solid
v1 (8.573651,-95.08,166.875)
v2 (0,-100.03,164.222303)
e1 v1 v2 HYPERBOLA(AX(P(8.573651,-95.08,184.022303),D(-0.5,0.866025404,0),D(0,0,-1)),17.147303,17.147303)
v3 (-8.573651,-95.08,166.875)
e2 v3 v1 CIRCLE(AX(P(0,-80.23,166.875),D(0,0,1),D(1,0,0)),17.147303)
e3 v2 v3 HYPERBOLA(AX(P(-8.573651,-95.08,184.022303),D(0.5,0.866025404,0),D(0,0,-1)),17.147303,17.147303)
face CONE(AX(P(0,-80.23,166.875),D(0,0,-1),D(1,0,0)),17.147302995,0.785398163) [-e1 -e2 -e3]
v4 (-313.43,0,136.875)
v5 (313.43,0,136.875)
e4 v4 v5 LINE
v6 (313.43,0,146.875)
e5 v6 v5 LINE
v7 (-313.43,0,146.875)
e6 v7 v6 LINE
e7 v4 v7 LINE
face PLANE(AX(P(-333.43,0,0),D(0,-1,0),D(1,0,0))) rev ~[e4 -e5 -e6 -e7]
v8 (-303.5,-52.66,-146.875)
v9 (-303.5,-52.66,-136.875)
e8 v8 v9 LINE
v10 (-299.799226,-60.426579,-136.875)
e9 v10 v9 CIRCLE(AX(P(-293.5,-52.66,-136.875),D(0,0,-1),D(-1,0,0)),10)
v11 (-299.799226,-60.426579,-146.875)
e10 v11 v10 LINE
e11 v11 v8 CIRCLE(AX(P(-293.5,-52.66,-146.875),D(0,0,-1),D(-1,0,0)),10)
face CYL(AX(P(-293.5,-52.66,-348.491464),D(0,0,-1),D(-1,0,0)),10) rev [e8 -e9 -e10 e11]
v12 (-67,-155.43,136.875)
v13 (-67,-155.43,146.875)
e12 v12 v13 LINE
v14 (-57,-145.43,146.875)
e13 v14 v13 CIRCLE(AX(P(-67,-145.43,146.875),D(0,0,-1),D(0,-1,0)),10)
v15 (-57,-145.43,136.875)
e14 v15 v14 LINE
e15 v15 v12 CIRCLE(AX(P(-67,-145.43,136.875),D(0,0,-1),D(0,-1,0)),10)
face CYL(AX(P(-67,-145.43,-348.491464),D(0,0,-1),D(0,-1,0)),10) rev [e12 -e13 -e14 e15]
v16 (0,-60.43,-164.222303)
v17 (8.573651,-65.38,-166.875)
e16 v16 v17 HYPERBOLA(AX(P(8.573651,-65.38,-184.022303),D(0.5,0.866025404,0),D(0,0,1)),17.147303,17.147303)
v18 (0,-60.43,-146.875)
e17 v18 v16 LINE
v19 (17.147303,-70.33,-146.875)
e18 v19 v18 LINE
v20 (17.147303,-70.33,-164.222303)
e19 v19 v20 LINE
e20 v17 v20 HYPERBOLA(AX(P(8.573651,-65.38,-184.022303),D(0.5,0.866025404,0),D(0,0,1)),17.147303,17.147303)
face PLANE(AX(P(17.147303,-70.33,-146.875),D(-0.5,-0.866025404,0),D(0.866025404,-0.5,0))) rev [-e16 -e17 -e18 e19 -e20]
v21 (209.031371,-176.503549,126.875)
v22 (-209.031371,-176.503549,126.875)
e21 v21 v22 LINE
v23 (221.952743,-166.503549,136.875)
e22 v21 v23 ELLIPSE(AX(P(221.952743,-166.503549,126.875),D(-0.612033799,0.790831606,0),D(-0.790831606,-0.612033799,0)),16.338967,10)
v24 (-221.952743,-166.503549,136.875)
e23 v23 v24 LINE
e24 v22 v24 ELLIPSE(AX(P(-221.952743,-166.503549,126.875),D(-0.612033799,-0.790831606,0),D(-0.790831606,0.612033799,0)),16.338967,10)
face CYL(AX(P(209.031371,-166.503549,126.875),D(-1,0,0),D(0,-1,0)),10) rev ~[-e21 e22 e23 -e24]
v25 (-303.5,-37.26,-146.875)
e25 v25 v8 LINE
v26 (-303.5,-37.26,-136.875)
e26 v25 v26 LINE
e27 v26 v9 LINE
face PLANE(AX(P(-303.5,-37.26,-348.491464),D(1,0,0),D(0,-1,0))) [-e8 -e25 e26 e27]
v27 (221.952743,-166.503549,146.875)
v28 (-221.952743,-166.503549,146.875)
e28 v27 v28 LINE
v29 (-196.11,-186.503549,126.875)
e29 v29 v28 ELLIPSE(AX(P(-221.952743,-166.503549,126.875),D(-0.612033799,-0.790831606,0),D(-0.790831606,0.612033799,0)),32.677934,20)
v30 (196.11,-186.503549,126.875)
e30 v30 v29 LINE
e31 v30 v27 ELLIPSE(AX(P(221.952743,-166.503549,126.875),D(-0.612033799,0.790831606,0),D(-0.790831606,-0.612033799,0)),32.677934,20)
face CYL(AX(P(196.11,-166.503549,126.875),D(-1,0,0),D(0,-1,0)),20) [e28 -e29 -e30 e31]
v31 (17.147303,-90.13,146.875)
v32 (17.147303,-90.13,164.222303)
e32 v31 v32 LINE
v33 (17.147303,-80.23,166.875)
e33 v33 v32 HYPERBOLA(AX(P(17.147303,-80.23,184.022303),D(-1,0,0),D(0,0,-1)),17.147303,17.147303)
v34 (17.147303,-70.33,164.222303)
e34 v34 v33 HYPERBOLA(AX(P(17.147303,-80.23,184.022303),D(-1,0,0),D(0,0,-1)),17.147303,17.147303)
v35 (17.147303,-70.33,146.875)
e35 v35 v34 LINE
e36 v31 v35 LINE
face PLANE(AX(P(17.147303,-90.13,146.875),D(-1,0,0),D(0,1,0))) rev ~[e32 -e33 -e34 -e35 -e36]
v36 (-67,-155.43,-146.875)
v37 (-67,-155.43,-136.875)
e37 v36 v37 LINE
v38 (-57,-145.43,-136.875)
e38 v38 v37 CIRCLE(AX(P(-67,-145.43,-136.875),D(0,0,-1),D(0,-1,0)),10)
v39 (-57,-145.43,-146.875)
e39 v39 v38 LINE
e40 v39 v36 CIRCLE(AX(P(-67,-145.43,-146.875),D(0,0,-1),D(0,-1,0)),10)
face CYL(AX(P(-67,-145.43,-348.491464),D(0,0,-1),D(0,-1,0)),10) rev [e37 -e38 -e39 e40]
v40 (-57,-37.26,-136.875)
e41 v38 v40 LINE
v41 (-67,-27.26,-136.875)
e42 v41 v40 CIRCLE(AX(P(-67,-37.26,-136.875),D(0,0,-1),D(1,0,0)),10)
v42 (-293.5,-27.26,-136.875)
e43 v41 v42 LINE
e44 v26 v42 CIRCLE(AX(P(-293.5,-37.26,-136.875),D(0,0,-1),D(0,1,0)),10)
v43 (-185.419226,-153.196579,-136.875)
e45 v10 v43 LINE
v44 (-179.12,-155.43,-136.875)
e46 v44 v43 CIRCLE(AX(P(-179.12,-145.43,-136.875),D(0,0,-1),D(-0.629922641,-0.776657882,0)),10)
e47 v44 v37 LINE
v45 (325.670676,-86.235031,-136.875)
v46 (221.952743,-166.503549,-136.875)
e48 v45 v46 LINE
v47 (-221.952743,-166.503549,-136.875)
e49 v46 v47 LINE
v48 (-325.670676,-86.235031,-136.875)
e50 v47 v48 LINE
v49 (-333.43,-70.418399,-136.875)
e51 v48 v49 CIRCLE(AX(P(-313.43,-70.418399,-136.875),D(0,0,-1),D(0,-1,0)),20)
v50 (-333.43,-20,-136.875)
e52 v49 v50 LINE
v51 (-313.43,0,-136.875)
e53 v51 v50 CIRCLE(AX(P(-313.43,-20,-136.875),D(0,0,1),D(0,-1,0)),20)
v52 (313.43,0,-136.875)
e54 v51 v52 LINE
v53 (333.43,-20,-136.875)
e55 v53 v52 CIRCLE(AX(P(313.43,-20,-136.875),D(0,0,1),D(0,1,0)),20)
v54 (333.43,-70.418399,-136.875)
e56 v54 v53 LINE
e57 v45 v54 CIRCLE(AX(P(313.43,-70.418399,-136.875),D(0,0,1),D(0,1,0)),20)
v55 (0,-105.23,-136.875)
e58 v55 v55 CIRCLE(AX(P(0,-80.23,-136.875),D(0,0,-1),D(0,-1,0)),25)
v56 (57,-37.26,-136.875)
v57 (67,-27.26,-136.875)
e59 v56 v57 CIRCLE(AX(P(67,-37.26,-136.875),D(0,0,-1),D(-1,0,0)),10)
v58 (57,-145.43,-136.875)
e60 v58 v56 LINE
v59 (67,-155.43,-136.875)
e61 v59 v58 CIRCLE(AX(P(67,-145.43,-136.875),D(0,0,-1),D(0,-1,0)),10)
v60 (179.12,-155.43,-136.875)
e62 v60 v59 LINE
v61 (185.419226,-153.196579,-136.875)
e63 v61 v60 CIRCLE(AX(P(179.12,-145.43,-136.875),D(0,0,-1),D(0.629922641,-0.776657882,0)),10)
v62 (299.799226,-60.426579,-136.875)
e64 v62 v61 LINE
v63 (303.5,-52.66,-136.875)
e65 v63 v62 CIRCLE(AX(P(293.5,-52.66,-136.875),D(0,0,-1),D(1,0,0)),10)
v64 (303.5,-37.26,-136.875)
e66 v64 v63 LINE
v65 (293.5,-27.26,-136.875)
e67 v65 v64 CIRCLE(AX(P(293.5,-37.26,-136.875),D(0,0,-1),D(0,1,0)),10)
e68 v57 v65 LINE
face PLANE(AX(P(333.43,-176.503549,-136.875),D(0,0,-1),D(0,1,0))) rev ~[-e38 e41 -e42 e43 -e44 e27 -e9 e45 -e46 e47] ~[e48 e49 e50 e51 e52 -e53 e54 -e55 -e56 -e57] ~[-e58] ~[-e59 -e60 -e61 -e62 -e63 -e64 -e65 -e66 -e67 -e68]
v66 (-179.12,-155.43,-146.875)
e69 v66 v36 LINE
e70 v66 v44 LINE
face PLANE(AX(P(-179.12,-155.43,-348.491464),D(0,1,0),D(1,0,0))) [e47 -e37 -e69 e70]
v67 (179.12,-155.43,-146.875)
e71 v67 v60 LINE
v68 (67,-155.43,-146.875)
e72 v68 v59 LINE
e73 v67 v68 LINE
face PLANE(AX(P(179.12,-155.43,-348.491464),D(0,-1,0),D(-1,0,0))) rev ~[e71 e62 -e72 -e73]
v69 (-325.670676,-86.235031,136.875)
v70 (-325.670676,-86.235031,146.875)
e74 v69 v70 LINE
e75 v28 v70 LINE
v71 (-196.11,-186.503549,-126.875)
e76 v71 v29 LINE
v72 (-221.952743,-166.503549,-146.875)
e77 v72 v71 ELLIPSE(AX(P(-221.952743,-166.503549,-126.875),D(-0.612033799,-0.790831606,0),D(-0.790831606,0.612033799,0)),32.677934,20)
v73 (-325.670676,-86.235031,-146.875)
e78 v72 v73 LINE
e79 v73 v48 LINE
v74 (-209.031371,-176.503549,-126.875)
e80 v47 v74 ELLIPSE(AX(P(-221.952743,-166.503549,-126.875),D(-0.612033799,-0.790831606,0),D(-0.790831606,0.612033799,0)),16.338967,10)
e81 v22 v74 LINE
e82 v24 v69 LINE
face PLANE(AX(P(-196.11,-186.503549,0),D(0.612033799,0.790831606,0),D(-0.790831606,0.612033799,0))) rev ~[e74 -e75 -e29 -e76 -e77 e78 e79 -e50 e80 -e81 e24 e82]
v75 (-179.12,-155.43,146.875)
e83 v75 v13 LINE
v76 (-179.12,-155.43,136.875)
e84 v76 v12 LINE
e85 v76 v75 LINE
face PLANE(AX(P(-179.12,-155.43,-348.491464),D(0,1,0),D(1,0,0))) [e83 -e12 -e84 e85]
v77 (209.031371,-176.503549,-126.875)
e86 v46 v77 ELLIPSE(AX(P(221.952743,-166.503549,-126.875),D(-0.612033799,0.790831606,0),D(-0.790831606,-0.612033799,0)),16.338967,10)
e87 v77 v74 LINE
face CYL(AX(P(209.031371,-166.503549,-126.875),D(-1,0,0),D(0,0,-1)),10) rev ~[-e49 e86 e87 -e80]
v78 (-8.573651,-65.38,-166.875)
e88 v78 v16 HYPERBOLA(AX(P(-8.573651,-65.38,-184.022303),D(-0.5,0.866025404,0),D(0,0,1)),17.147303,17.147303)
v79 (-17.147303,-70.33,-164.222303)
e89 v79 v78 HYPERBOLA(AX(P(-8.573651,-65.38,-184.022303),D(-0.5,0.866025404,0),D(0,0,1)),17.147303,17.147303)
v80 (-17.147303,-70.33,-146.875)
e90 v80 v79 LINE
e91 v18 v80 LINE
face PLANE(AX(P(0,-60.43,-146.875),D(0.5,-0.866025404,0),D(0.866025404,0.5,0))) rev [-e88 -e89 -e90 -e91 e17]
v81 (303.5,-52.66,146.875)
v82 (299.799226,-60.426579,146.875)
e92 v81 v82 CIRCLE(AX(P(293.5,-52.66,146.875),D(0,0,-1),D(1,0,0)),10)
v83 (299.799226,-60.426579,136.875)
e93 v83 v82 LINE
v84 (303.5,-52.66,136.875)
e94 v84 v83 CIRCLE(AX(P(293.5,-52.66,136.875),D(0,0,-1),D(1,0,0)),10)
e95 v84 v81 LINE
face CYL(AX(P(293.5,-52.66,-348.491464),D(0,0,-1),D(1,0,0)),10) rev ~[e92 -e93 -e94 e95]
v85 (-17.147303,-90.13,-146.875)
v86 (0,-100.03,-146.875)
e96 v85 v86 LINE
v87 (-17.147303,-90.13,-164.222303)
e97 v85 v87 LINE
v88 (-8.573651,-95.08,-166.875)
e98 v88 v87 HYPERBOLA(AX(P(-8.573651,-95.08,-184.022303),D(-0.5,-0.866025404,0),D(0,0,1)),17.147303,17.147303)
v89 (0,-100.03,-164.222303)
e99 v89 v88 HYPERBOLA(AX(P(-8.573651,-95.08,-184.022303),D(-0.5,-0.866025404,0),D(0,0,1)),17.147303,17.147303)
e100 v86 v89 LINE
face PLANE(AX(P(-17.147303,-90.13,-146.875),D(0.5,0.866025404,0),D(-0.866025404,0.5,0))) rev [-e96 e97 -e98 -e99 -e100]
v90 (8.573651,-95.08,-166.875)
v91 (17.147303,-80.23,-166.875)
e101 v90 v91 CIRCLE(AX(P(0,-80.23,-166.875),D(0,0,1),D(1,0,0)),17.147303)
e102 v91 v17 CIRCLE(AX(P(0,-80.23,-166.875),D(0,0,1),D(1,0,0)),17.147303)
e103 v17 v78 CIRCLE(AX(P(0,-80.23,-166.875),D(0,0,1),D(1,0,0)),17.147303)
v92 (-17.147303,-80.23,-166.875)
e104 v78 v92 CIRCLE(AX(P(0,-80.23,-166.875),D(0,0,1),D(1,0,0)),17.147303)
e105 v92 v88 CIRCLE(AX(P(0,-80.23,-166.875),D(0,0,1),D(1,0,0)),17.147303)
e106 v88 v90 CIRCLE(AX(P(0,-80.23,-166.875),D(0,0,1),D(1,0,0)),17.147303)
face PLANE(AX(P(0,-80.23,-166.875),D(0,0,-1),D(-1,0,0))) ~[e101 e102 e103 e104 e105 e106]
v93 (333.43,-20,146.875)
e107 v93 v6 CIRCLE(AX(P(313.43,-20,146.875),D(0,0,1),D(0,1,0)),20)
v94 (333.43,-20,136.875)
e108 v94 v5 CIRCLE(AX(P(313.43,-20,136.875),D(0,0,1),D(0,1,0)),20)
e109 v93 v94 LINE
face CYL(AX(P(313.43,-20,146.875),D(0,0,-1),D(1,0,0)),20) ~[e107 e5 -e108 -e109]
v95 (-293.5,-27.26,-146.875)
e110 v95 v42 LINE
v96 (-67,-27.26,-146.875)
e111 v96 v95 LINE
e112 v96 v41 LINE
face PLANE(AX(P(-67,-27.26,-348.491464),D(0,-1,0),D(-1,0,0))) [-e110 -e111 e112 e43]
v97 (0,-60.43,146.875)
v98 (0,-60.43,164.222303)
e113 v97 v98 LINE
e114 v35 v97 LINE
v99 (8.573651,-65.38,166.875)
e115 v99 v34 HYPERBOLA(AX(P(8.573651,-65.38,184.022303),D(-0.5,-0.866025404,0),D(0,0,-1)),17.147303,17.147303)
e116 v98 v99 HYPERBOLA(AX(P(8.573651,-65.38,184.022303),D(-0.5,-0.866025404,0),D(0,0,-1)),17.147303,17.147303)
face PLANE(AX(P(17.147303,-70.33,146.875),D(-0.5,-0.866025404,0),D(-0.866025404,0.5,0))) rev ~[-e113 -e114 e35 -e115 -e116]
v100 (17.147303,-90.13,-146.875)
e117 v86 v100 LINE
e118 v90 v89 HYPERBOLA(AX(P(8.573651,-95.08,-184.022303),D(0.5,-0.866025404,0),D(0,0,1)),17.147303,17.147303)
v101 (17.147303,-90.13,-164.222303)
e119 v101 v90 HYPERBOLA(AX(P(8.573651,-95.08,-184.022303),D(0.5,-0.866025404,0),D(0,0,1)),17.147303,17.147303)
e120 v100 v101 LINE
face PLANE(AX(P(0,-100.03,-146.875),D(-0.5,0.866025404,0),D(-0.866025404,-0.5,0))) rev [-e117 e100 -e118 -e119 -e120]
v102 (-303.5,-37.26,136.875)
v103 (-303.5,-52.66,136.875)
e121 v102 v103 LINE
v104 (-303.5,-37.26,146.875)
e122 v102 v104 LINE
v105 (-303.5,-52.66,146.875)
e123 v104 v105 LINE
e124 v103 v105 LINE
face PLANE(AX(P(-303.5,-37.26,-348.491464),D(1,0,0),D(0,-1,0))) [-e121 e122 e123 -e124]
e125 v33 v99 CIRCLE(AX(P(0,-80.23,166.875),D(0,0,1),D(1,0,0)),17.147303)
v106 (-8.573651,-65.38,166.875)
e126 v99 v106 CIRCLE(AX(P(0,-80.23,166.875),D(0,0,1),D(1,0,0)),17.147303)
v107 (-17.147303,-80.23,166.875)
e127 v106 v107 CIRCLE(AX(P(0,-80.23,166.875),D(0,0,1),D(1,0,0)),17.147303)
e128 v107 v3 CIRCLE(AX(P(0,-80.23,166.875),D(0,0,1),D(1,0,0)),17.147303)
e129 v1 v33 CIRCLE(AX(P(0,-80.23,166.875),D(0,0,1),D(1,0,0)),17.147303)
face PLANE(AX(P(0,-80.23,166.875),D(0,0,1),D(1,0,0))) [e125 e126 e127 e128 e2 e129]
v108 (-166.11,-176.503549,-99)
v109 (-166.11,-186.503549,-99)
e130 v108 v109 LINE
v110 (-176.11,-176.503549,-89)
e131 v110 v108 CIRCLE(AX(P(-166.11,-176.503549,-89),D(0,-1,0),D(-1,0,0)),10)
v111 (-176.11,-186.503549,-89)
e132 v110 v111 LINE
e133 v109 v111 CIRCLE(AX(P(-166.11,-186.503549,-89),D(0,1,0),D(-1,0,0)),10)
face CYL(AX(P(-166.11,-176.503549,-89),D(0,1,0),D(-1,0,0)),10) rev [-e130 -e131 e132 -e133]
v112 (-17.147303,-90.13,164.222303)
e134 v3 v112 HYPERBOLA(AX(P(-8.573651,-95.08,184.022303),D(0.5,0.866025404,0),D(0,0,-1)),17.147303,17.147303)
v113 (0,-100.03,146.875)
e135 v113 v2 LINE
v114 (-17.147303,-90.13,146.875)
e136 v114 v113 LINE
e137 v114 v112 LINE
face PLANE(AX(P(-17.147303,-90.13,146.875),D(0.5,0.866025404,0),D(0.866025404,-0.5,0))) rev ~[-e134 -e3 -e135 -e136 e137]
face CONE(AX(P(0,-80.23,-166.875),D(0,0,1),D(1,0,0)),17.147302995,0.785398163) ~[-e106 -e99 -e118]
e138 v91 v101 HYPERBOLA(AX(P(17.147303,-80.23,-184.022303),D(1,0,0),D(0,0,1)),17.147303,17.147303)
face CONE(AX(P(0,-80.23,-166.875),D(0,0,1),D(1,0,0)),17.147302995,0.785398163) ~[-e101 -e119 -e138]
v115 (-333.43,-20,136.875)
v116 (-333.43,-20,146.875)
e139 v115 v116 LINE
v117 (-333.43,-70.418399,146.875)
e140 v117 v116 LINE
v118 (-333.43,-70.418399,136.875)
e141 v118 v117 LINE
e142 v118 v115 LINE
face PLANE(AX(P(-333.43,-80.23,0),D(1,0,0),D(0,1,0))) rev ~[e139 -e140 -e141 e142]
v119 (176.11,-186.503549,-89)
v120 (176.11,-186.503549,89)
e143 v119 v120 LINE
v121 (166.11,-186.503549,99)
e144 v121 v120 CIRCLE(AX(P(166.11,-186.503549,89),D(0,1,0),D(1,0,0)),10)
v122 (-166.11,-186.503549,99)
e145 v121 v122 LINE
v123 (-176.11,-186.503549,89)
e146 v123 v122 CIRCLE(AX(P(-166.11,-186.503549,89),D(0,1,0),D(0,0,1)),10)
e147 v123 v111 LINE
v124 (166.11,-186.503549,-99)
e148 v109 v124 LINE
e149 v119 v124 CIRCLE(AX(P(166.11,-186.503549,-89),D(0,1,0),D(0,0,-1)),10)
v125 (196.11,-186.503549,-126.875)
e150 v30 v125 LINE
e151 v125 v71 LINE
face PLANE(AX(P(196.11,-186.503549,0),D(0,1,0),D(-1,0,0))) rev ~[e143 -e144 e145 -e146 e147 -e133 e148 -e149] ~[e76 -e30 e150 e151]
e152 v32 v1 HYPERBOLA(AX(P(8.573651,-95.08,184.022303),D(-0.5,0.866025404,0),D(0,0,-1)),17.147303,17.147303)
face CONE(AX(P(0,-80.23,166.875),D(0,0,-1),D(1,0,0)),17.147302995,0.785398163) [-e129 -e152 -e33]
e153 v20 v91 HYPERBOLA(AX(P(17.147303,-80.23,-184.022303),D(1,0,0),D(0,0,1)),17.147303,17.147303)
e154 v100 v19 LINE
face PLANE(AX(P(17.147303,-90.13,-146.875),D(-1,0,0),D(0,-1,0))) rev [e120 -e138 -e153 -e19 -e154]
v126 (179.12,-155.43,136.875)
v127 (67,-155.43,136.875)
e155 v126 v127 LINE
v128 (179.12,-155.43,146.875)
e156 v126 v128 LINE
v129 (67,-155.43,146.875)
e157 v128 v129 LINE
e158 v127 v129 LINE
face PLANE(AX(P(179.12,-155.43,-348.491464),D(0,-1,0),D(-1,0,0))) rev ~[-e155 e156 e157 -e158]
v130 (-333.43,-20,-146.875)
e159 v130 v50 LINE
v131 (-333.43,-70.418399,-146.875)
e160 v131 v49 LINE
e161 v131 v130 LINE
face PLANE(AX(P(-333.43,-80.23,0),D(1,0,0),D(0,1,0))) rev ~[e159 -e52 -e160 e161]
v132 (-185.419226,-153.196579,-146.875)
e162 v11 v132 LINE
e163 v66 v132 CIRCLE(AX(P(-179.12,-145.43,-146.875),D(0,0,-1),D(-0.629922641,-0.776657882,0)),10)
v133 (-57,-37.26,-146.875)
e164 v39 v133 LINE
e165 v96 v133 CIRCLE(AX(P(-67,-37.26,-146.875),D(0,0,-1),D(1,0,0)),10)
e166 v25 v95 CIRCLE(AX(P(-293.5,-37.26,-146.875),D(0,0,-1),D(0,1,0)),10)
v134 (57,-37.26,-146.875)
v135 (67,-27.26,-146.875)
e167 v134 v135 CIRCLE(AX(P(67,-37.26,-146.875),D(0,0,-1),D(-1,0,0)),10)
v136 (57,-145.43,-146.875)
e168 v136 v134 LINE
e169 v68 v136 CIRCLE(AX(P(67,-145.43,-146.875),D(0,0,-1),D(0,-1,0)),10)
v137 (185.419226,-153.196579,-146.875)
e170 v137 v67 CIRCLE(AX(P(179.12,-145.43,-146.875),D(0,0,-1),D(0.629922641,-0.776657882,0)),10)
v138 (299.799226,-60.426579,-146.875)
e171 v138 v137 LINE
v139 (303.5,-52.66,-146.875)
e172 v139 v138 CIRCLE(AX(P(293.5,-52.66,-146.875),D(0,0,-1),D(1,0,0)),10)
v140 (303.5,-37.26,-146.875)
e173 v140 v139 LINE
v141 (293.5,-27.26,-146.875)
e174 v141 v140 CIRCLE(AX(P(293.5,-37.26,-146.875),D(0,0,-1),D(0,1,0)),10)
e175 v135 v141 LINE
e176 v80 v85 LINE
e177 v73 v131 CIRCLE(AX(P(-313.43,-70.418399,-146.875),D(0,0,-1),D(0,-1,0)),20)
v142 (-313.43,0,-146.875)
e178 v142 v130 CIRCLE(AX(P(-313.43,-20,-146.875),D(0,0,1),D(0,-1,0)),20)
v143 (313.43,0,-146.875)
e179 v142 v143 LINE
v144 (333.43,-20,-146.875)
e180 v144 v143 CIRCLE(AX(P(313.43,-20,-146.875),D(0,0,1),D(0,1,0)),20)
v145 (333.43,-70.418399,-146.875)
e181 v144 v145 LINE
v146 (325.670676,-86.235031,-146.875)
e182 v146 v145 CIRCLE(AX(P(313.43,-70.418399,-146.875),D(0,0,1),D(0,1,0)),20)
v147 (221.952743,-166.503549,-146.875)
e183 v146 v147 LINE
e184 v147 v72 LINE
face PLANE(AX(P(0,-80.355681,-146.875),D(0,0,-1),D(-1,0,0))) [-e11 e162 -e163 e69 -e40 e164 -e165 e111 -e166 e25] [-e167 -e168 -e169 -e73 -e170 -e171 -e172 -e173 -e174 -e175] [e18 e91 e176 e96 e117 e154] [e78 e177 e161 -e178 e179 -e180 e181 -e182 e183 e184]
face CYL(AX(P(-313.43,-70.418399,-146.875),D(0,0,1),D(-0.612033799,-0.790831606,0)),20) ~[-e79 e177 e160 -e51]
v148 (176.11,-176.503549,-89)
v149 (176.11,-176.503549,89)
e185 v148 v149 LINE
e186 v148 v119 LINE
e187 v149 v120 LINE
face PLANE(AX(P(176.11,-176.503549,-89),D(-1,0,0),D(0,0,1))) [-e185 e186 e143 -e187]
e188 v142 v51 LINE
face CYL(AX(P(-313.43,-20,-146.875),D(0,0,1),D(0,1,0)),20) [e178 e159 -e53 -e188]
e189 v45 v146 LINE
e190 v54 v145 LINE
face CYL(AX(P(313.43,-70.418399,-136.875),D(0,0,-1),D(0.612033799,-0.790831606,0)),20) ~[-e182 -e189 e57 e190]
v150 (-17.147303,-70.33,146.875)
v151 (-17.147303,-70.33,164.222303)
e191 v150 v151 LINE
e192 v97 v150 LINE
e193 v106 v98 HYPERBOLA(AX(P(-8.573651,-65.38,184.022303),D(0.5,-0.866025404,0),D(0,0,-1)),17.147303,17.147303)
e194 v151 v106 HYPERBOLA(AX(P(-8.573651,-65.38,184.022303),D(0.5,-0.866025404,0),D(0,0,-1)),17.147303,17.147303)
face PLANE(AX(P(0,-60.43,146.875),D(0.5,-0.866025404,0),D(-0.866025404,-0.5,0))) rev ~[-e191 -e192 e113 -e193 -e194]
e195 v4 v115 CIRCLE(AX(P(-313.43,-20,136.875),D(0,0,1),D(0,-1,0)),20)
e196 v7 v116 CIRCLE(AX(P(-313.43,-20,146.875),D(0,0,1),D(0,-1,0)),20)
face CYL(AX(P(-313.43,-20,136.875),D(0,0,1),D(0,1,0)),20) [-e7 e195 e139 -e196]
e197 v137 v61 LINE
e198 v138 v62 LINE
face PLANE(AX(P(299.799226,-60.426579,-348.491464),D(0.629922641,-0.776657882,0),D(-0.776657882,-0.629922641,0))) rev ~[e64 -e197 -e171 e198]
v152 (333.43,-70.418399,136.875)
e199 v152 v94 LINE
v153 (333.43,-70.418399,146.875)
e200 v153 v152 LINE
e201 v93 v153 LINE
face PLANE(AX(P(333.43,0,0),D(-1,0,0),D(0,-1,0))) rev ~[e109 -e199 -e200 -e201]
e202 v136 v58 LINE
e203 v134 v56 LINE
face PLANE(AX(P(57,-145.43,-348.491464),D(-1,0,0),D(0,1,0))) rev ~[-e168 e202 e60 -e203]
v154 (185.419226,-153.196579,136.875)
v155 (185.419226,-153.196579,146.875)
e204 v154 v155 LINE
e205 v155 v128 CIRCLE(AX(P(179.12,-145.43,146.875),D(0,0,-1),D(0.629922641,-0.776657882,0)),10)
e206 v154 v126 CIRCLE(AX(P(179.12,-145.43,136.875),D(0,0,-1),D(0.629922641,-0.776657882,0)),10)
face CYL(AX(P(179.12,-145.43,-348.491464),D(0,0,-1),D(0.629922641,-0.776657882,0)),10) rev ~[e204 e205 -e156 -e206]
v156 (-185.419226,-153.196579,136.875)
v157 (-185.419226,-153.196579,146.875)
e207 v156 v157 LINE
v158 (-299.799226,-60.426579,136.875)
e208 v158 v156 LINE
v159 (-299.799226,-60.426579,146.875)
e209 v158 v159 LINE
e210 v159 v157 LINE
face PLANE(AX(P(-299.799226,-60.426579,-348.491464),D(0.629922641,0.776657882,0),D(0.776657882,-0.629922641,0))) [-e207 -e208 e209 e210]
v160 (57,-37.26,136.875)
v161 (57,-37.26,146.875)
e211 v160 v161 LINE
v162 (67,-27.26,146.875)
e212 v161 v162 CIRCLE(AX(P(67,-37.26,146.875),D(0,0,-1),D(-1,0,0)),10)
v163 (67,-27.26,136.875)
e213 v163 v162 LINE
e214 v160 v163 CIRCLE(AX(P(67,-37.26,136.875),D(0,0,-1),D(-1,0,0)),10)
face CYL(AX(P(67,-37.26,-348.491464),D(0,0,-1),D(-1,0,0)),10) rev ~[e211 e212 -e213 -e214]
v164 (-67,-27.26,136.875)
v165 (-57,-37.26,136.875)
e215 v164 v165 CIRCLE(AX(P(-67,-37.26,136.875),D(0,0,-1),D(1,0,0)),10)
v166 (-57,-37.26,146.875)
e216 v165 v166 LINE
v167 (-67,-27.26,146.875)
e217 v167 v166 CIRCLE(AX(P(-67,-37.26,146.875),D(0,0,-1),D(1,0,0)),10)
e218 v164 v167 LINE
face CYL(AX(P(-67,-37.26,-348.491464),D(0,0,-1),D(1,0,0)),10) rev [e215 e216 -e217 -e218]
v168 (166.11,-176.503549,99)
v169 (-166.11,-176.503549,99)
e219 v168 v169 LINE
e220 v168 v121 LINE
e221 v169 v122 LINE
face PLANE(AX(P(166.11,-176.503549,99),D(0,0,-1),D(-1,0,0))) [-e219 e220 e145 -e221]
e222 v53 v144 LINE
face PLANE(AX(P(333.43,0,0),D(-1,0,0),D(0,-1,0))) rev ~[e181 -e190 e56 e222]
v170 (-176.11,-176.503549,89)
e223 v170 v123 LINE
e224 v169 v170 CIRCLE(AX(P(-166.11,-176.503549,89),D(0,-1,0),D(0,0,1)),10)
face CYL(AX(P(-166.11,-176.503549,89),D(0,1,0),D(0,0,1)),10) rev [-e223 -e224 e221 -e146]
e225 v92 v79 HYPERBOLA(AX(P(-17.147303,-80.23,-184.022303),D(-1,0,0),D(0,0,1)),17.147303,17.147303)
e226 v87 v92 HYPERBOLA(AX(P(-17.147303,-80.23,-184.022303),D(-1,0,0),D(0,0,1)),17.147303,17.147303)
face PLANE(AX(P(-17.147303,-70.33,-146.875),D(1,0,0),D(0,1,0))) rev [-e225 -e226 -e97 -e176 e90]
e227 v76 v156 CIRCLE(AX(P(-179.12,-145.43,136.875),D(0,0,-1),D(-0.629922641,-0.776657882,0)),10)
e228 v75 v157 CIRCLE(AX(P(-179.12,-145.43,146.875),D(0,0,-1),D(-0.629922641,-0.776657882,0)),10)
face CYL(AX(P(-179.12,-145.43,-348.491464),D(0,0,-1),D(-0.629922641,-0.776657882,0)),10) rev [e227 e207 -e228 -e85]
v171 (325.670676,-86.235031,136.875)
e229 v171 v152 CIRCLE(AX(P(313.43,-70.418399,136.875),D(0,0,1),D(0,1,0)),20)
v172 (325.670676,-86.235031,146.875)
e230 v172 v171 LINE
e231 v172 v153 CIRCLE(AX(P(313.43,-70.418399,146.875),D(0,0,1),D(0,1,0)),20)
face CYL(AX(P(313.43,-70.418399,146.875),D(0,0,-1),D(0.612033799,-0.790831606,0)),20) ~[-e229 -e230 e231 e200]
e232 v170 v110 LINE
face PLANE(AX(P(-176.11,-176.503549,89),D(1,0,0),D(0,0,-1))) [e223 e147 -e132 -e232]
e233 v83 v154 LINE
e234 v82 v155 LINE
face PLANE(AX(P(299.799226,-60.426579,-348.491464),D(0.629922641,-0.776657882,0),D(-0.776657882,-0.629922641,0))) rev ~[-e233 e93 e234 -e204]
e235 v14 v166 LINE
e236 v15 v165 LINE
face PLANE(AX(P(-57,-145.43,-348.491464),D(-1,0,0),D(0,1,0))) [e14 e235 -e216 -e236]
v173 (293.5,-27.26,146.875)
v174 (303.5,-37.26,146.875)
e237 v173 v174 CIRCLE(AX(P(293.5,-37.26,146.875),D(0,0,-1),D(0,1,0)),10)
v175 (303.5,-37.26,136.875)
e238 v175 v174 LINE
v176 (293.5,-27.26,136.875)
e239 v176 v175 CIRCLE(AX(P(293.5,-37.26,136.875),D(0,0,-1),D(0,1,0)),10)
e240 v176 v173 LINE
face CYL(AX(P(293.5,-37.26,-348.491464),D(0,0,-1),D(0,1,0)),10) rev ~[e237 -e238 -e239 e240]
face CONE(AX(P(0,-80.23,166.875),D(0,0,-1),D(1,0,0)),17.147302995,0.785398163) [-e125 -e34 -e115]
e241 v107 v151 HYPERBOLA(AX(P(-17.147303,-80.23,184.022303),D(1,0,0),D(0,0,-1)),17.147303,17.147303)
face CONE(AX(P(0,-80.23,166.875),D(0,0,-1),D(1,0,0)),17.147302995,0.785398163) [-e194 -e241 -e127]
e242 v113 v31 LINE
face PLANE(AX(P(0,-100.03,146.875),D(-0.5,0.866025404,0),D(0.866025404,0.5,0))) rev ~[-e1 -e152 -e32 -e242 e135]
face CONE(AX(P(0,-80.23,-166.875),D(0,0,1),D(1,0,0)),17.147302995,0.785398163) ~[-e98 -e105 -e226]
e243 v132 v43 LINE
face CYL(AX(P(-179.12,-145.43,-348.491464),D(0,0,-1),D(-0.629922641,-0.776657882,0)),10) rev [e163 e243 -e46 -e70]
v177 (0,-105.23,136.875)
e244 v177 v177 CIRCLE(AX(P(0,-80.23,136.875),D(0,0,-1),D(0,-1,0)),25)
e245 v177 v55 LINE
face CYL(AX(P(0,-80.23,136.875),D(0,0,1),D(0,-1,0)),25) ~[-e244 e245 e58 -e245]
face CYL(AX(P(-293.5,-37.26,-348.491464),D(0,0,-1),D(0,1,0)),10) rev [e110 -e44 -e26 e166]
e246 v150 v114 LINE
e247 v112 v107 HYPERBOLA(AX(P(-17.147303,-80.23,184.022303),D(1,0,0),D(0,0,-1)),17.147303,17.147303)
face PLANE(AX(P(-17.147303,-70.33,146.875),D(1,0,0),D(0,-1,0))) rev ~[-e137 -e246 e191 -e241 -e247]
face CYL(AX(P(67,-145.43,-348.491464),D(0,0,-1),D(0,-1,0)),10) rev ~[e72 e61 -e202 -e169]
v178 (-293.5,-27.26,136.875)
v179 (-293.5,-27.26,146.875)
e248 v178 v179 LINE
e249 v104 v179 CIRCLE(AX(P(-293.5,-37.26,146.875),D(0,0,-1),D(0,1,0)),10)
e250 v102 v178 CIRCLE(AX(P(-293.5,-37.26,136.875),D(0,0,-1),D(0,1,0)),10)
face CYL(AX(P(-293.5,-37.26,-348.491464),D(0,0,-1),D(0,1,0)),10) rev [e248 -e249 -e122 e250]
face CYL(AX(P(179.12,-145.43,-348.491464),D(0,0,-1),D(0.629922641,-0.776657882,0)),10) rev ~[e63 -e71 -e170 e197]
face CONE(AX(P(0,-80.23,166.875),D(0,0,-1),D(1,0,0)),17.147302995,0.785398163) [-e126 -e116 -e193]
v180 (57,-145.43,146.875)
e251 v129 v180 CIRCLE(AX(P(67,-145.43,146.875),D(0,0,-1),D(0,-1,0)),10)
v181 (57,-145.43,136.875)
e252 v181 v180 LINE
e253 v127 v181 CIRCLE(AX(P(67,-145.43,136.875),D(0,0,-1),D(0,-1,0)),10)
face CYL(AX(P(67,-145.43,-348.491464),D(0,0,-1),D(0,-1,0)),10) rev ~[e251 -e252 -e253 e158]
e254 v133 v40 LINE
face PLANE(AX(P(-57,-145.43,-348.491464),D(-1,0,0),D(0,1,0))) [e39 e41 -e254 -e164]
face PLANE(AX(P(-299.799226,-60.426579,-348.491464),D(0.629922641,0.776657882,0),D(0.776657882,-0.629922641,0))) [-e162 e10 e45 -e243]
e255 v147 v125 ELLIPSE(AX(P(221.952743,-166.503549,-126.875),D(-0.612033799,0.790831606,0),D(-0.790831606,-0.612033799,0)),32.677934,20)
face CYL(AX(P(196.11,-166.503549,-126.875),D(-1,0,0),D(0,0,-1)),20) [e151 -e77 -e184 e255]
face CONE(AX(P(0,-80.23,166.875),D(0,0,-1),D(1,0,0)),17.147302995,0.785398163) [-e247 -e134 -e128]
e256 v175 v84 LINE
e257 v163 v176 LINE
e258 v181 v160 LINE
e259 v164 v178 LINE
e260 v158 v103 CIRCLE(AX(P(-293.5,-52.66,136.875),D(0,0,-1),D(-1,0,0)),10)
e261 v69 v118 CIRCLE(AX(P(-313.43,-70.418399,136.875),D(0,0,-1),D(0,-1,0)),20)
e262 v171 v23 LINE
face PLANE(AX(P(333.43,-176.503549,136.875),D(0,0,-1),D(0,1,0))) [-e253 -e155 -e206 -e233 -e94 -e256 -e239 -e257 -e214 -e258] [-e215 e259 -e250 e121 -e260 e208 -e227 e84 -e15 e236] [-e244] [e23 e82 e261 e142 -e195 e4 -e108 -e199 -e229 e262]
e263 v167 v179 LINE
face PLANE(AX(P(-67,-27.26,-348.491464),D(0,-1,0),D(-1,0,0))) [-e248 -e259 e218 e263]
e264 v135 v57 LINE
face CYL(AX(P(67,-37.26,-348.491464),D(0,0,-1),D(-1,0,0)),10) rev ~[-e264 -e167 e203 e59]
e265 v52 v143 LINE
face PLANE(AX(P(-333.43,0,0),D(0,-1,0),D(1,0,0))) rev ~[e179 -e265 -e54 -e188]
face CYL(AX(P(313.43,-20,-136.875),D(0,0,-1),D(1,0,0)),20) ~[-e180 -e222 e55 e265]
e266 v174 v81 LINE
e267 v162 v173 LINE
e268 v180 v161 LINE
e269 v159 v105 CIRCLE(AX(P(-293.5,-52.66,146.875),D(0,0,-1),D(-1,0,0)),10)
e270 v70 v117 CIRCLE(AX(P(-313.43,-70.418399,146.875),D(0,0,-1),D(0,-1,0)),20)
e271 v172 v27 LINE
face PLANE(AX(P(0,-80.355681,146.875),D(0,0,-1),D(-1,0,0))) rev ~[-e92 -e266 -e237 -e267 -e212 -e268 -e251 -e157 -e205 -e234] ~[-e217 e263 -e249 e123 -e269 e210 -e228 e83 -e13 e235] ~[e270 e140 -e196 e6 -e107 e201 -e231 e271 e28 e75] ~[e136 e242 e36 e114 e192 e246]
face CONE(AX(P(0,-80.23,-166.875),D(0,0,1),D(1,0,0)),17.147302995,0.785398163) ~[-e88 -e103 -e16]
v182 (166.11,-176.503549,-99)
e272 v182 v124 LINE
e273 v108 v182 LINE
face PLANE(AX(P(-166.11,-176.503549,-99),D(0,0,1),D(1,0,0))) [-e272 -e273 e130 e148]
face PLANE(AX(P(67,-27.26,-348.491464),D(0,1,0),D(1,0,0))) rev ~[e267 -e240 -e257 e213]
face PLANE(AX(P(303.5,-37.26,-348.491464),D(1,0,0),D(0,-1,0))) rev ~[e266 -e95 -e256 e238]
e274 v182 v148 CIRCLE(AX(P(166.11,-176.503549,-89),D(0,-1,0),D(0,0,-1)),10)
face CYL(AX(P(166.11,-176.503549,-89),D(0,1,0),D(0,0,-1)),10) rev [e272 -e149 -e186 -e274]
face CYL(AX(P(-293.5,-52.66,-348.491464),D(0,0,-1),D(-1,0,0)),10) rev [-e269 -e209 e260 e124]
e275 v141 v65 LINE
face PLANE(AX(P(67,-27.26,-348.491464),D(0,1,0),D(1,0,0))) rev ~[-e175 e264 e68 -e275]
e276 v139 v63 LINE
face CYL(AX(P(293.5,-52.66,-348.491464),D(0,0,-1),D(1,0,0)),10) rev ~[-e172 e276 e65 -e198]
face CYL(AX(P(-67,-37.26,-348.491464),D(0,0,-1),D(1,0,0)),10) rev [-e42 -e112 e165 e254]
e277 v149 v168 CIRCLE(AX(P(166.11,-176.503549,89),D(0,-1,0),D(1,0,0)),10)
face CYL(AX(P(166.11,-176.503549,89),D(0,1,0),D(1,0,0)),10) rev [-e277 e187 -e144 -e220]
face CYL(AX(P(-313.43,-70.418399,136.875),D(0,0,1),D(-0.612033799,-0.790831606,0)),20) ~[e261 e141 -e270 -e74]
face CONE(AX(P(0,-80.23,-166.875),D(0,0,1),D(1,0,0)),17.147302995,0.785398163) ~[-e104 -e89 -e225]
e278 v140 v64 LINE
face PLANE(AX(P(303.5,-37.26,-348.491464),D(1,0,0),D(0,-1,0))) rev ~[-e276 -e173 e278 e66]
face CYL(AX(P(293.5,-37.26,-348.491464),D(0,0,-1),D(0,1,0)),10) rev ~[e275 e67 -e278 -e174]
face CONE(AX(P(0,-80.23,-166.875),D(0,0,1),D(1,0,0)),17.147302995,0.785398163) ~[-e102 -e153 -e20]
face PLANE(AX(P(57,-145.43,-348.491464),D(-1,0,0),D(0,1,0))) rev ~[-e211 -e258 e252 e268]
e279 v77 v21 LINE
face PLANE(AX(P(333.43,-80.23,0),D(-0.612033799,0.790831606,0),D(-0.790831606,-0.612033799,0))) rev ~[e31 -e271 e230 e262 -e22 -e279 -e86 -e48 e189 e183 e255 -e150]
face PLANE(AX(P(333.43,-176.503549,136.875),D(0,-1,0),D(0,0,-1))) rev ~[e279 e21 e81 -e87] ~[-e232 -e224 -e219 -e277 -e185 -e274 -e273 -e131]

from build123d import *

# Parameters (mm, degrees)
BOSS_EXTRUDE1_DEPTH     = 146.875
SKETCH2_W               = 273.75
SKETCH2_H               = 213.261995914
CUT_EXTRUDE1_DEPTH      = 708.854574743
FILLET1_R               = 10
FILLET2_R               = 20
SKETCH3_R               = 25
BOSS_EXTRUDE2_DEPTH     = 273.75
BOSS_EXTRUDE3_DEPTH     = 20
SKETCH5_R               = 51.111383935
SKETCH5_R_2             = 17.147302995
CUT_EXTRUDE2_DEPTH      = 20
CUT_EXTRUDE2_TAPER      = 45
CUT_EXTRUDE3_DEPTH      = 495.366464437
CUT_EXTRUDE3_DEPTH_BACK = 495.366464437
CUT_EXTRUDE4_DEPTH      = 417.900952607
CUT_EXTRUDE4_DEPTH_BACK = 10
FILLET3_R               = 20


with BuildPart() as part:
    # Sketch1 → Boss-Extrude1 (new, symmetric)
    with BuildSketch(Plane.XY):
        Polygon((-333.43, 0), (333.43, 0), (333.43, -80.23), (196.11, -186.50354892), (-196.11, -186.50354892), (-333.43, -80.23), align=None)
    extrude(amount=BOSS_EXTRUDE1_DEPTH, both=True)

    # Sketch2 → Cut-Extrude1 (cut, through all)
    with BuildSketch(Plane(origin=(333.43, 0, 0), x_dir=(0, 0, -1), z_dir=(1, 0, 0))):
        with Locations((0, -69.872550963)):
            Rectangle(SKETCH2_W, SKETCH2_H)
    extrude(amount=-CUT_EXTRUDE1_DEPTH, mode=Mode.SUBTRACT)

    # Fillet1
    fillet1_edges = [part.edges().sort_by_distance(p)[0] for p in [
        (0, -176.50354892, -136.875),
        (0, -176.50354892, 136.875),
    ]]
    fillet(fillet1_edges, radius=FILLET1_R)

    # Fillet2
    fillet2_edges = [part.edges().sort_by_distance(p)[0] for p in [
        (0, -186.50354892, -146.875),
        (0, -186.50354892, 146.875),
    ]]
    fillet(fillet2_edges, radius=FILLET2_R)

    # Sketch3 → Boss-Extrude2 (add)
    with BuildSketch(Plane(origin=(0, 0, 136.875), x_dir=(-1, 0, 0), z_dir=(0, 0, -1))):
        with Locations(Location((0, -80.23, 0), (0, 0, 270))):
            Circle(SKETCH3_R)
    extrude(amount=BOSS_EXTRUDE2_DEPTH)

    # Sketch4 → Boss-Extrude3 (add)
    with BuildSketch(Plane.XY.offset(146.875)):
        Polygon((0, -100.03), (17.147302995, -90.13), (17.147302995, -70.33), (0, -60.43), (-17.147302995, -70.33), (-17.147302995, -90.13), align=None)
    boss_extrude3 = extrude(amount=BOSS_EXTRUDE3_DEPTH)

    # Sketch5 → Cut-Extrude2 (cut)
    with BuildSketch(Plane.XY.offset(166.875)):
        with Locations((0, -80.23)):
            Circle(SKETCH5_R)
        with Locations((0, -80.23)):
            Circle(SKETCH5_R_2, mode=Mode.SUBTRACT)
    cut_extrude2 = extrude(amount=-CUT_EXTRUDE2_DEPTH, taper=CUT_EXTRUDE2_TAPER, mode=Mode.SUBTRACT)

    # Mirror1: Boss-Extrude3, Cut-Extrude2 across plane
    add(boss_extrude3.mirror(Plane.XY))
    add(cut_extrude2.mirror(Plane.XY), mode=Mode.SUBTRACT)

    # Sketch6 → Cut-Extrude3 (cut, two sides: drawn at the far end of the back side and taken through both)
    with BuildSketch(Plane.XY.offset(146.875).offset(-CUT_EXTRUDE3_DEPTH_BACK)):
        with BuildLine():
            Line((-303.5, -37.26), (-303.5, -52.66))
            ThreePointArc((-303.5, -52.66), (-302.527520815, -56.961612248), (-299.799226414, -60.426578821))
            Line((-299.799226414, -60.426578821), (-185.419226414, -153.196578821))
            ThreePointArc((-185.419226414, -153.196578821), (-182.461721995, -154.855120376), (-179.12, -155.43))
            Line((-179.12, -155.43), (-67, -155.43))
            ThreePointArc((-67, -155.43), (-59.928932188, -152.501067812), (-57, -145.43))
            Line((-57, -145.43), (-57, -37.26))
            ThreePointArc((-57, -37.26), (-59.928932188, -30.188932188), (-67, -27.26))
            Line((-67, -27.26), (-293.5, -27.26))
            ThreePointArc((-293.5, -27.26), (-300.571067812, -30.188932188), (-303.5, -37.26))
        make_face()
        with BuildLine():
            Line((57, -145.43), (57, -37.26))
            ThreePointArc((57, -37.26), (59.928932188, -30.188932188), (67, -27.26))
            Line((67, -27.26), (293.5, -27.26))
            ThreePointArc((293.5, -27.26), (300.571067812, -30.188932188), (303.5, -37.26))
            Line((303.5, -37.26), (303.5, -52.66))
            ThreePointArc((303.5, -52.66), (302.527520815, -56.961612248), (299.799226414, -60.426578821))
            Line((299.799226414, -60.426578821), (185.419226414, -153.196578821))
            ThreePointArc((185.419226414, -153.196578821), (182.461721995, -154.855120376), (179.12, -155.43))
            Line((179.12, -155.43), (67, -155.43))
            ThreePointArc((67, -155.43), (59.928932188, -152.501067812), (57, -145.43))
        make_face()
    extrude(amount=CUT_EXTRUDE3_DEPTH + CUT_EXTRUDE3_DEPTH_BACK, mode=Mode.SUBTRACT)

    # Sketch7 → Cut-Extrude4 (cut, two sides: drawn at the far end of the back side and taken through both)
    with BuildSketch(Plane.XZ.offset(186.50354892).offset(-CUT_EXTRUDE4_DEPTH_BACK)):
        with BuildLine():
            Line((166.11, 99), (-166.11, 99))
            ThreePointArc((-166.11, 99), (-173.181067812, 96.071067812), (-176.11, 89))
            Line((-176.11, 89), (-176.11, -89))
            ThreePointArc((-176.11, -89), (-173.181067812, -96.071067812), (-166.11, -99))
            Line((-166.11, -99), (166.11, -99))
            ThreePointArc((166.11, -99), (173.181067812, -96.071067812), (176.11, -89))
            Line((176.11, -89), (176.11, 89))
            ThreePointArc((176.11, 89), (173.181067812, 96.071067812), (166.11, 99))
        make_face()
    extrude(amount=CUT_EXTRUDE4_DEPTH + CUT_EXTRUDE4_DEPTH_BACK, mode=Mode.SUBTRACT)

    # Fillet3
    fillet3_edges = [part.edges().sort_by_distance(p)[0] for p in [
        (-333.43, -80.23, 141.875),
        (-333.43, 0, 141.875),
        (333.43, 0, 141.875),
        (333.43, -80.23, 141.875),
        (-333.43, -80.23, -141.875),
        (-333.43, 0, -141.875),
        (333.43, 0, -141.875),
        (333.43, -80.23, -141.875),
    ]]
    fillet(fillet3_edges, radius=FILLET3_R)


solid = part.part
